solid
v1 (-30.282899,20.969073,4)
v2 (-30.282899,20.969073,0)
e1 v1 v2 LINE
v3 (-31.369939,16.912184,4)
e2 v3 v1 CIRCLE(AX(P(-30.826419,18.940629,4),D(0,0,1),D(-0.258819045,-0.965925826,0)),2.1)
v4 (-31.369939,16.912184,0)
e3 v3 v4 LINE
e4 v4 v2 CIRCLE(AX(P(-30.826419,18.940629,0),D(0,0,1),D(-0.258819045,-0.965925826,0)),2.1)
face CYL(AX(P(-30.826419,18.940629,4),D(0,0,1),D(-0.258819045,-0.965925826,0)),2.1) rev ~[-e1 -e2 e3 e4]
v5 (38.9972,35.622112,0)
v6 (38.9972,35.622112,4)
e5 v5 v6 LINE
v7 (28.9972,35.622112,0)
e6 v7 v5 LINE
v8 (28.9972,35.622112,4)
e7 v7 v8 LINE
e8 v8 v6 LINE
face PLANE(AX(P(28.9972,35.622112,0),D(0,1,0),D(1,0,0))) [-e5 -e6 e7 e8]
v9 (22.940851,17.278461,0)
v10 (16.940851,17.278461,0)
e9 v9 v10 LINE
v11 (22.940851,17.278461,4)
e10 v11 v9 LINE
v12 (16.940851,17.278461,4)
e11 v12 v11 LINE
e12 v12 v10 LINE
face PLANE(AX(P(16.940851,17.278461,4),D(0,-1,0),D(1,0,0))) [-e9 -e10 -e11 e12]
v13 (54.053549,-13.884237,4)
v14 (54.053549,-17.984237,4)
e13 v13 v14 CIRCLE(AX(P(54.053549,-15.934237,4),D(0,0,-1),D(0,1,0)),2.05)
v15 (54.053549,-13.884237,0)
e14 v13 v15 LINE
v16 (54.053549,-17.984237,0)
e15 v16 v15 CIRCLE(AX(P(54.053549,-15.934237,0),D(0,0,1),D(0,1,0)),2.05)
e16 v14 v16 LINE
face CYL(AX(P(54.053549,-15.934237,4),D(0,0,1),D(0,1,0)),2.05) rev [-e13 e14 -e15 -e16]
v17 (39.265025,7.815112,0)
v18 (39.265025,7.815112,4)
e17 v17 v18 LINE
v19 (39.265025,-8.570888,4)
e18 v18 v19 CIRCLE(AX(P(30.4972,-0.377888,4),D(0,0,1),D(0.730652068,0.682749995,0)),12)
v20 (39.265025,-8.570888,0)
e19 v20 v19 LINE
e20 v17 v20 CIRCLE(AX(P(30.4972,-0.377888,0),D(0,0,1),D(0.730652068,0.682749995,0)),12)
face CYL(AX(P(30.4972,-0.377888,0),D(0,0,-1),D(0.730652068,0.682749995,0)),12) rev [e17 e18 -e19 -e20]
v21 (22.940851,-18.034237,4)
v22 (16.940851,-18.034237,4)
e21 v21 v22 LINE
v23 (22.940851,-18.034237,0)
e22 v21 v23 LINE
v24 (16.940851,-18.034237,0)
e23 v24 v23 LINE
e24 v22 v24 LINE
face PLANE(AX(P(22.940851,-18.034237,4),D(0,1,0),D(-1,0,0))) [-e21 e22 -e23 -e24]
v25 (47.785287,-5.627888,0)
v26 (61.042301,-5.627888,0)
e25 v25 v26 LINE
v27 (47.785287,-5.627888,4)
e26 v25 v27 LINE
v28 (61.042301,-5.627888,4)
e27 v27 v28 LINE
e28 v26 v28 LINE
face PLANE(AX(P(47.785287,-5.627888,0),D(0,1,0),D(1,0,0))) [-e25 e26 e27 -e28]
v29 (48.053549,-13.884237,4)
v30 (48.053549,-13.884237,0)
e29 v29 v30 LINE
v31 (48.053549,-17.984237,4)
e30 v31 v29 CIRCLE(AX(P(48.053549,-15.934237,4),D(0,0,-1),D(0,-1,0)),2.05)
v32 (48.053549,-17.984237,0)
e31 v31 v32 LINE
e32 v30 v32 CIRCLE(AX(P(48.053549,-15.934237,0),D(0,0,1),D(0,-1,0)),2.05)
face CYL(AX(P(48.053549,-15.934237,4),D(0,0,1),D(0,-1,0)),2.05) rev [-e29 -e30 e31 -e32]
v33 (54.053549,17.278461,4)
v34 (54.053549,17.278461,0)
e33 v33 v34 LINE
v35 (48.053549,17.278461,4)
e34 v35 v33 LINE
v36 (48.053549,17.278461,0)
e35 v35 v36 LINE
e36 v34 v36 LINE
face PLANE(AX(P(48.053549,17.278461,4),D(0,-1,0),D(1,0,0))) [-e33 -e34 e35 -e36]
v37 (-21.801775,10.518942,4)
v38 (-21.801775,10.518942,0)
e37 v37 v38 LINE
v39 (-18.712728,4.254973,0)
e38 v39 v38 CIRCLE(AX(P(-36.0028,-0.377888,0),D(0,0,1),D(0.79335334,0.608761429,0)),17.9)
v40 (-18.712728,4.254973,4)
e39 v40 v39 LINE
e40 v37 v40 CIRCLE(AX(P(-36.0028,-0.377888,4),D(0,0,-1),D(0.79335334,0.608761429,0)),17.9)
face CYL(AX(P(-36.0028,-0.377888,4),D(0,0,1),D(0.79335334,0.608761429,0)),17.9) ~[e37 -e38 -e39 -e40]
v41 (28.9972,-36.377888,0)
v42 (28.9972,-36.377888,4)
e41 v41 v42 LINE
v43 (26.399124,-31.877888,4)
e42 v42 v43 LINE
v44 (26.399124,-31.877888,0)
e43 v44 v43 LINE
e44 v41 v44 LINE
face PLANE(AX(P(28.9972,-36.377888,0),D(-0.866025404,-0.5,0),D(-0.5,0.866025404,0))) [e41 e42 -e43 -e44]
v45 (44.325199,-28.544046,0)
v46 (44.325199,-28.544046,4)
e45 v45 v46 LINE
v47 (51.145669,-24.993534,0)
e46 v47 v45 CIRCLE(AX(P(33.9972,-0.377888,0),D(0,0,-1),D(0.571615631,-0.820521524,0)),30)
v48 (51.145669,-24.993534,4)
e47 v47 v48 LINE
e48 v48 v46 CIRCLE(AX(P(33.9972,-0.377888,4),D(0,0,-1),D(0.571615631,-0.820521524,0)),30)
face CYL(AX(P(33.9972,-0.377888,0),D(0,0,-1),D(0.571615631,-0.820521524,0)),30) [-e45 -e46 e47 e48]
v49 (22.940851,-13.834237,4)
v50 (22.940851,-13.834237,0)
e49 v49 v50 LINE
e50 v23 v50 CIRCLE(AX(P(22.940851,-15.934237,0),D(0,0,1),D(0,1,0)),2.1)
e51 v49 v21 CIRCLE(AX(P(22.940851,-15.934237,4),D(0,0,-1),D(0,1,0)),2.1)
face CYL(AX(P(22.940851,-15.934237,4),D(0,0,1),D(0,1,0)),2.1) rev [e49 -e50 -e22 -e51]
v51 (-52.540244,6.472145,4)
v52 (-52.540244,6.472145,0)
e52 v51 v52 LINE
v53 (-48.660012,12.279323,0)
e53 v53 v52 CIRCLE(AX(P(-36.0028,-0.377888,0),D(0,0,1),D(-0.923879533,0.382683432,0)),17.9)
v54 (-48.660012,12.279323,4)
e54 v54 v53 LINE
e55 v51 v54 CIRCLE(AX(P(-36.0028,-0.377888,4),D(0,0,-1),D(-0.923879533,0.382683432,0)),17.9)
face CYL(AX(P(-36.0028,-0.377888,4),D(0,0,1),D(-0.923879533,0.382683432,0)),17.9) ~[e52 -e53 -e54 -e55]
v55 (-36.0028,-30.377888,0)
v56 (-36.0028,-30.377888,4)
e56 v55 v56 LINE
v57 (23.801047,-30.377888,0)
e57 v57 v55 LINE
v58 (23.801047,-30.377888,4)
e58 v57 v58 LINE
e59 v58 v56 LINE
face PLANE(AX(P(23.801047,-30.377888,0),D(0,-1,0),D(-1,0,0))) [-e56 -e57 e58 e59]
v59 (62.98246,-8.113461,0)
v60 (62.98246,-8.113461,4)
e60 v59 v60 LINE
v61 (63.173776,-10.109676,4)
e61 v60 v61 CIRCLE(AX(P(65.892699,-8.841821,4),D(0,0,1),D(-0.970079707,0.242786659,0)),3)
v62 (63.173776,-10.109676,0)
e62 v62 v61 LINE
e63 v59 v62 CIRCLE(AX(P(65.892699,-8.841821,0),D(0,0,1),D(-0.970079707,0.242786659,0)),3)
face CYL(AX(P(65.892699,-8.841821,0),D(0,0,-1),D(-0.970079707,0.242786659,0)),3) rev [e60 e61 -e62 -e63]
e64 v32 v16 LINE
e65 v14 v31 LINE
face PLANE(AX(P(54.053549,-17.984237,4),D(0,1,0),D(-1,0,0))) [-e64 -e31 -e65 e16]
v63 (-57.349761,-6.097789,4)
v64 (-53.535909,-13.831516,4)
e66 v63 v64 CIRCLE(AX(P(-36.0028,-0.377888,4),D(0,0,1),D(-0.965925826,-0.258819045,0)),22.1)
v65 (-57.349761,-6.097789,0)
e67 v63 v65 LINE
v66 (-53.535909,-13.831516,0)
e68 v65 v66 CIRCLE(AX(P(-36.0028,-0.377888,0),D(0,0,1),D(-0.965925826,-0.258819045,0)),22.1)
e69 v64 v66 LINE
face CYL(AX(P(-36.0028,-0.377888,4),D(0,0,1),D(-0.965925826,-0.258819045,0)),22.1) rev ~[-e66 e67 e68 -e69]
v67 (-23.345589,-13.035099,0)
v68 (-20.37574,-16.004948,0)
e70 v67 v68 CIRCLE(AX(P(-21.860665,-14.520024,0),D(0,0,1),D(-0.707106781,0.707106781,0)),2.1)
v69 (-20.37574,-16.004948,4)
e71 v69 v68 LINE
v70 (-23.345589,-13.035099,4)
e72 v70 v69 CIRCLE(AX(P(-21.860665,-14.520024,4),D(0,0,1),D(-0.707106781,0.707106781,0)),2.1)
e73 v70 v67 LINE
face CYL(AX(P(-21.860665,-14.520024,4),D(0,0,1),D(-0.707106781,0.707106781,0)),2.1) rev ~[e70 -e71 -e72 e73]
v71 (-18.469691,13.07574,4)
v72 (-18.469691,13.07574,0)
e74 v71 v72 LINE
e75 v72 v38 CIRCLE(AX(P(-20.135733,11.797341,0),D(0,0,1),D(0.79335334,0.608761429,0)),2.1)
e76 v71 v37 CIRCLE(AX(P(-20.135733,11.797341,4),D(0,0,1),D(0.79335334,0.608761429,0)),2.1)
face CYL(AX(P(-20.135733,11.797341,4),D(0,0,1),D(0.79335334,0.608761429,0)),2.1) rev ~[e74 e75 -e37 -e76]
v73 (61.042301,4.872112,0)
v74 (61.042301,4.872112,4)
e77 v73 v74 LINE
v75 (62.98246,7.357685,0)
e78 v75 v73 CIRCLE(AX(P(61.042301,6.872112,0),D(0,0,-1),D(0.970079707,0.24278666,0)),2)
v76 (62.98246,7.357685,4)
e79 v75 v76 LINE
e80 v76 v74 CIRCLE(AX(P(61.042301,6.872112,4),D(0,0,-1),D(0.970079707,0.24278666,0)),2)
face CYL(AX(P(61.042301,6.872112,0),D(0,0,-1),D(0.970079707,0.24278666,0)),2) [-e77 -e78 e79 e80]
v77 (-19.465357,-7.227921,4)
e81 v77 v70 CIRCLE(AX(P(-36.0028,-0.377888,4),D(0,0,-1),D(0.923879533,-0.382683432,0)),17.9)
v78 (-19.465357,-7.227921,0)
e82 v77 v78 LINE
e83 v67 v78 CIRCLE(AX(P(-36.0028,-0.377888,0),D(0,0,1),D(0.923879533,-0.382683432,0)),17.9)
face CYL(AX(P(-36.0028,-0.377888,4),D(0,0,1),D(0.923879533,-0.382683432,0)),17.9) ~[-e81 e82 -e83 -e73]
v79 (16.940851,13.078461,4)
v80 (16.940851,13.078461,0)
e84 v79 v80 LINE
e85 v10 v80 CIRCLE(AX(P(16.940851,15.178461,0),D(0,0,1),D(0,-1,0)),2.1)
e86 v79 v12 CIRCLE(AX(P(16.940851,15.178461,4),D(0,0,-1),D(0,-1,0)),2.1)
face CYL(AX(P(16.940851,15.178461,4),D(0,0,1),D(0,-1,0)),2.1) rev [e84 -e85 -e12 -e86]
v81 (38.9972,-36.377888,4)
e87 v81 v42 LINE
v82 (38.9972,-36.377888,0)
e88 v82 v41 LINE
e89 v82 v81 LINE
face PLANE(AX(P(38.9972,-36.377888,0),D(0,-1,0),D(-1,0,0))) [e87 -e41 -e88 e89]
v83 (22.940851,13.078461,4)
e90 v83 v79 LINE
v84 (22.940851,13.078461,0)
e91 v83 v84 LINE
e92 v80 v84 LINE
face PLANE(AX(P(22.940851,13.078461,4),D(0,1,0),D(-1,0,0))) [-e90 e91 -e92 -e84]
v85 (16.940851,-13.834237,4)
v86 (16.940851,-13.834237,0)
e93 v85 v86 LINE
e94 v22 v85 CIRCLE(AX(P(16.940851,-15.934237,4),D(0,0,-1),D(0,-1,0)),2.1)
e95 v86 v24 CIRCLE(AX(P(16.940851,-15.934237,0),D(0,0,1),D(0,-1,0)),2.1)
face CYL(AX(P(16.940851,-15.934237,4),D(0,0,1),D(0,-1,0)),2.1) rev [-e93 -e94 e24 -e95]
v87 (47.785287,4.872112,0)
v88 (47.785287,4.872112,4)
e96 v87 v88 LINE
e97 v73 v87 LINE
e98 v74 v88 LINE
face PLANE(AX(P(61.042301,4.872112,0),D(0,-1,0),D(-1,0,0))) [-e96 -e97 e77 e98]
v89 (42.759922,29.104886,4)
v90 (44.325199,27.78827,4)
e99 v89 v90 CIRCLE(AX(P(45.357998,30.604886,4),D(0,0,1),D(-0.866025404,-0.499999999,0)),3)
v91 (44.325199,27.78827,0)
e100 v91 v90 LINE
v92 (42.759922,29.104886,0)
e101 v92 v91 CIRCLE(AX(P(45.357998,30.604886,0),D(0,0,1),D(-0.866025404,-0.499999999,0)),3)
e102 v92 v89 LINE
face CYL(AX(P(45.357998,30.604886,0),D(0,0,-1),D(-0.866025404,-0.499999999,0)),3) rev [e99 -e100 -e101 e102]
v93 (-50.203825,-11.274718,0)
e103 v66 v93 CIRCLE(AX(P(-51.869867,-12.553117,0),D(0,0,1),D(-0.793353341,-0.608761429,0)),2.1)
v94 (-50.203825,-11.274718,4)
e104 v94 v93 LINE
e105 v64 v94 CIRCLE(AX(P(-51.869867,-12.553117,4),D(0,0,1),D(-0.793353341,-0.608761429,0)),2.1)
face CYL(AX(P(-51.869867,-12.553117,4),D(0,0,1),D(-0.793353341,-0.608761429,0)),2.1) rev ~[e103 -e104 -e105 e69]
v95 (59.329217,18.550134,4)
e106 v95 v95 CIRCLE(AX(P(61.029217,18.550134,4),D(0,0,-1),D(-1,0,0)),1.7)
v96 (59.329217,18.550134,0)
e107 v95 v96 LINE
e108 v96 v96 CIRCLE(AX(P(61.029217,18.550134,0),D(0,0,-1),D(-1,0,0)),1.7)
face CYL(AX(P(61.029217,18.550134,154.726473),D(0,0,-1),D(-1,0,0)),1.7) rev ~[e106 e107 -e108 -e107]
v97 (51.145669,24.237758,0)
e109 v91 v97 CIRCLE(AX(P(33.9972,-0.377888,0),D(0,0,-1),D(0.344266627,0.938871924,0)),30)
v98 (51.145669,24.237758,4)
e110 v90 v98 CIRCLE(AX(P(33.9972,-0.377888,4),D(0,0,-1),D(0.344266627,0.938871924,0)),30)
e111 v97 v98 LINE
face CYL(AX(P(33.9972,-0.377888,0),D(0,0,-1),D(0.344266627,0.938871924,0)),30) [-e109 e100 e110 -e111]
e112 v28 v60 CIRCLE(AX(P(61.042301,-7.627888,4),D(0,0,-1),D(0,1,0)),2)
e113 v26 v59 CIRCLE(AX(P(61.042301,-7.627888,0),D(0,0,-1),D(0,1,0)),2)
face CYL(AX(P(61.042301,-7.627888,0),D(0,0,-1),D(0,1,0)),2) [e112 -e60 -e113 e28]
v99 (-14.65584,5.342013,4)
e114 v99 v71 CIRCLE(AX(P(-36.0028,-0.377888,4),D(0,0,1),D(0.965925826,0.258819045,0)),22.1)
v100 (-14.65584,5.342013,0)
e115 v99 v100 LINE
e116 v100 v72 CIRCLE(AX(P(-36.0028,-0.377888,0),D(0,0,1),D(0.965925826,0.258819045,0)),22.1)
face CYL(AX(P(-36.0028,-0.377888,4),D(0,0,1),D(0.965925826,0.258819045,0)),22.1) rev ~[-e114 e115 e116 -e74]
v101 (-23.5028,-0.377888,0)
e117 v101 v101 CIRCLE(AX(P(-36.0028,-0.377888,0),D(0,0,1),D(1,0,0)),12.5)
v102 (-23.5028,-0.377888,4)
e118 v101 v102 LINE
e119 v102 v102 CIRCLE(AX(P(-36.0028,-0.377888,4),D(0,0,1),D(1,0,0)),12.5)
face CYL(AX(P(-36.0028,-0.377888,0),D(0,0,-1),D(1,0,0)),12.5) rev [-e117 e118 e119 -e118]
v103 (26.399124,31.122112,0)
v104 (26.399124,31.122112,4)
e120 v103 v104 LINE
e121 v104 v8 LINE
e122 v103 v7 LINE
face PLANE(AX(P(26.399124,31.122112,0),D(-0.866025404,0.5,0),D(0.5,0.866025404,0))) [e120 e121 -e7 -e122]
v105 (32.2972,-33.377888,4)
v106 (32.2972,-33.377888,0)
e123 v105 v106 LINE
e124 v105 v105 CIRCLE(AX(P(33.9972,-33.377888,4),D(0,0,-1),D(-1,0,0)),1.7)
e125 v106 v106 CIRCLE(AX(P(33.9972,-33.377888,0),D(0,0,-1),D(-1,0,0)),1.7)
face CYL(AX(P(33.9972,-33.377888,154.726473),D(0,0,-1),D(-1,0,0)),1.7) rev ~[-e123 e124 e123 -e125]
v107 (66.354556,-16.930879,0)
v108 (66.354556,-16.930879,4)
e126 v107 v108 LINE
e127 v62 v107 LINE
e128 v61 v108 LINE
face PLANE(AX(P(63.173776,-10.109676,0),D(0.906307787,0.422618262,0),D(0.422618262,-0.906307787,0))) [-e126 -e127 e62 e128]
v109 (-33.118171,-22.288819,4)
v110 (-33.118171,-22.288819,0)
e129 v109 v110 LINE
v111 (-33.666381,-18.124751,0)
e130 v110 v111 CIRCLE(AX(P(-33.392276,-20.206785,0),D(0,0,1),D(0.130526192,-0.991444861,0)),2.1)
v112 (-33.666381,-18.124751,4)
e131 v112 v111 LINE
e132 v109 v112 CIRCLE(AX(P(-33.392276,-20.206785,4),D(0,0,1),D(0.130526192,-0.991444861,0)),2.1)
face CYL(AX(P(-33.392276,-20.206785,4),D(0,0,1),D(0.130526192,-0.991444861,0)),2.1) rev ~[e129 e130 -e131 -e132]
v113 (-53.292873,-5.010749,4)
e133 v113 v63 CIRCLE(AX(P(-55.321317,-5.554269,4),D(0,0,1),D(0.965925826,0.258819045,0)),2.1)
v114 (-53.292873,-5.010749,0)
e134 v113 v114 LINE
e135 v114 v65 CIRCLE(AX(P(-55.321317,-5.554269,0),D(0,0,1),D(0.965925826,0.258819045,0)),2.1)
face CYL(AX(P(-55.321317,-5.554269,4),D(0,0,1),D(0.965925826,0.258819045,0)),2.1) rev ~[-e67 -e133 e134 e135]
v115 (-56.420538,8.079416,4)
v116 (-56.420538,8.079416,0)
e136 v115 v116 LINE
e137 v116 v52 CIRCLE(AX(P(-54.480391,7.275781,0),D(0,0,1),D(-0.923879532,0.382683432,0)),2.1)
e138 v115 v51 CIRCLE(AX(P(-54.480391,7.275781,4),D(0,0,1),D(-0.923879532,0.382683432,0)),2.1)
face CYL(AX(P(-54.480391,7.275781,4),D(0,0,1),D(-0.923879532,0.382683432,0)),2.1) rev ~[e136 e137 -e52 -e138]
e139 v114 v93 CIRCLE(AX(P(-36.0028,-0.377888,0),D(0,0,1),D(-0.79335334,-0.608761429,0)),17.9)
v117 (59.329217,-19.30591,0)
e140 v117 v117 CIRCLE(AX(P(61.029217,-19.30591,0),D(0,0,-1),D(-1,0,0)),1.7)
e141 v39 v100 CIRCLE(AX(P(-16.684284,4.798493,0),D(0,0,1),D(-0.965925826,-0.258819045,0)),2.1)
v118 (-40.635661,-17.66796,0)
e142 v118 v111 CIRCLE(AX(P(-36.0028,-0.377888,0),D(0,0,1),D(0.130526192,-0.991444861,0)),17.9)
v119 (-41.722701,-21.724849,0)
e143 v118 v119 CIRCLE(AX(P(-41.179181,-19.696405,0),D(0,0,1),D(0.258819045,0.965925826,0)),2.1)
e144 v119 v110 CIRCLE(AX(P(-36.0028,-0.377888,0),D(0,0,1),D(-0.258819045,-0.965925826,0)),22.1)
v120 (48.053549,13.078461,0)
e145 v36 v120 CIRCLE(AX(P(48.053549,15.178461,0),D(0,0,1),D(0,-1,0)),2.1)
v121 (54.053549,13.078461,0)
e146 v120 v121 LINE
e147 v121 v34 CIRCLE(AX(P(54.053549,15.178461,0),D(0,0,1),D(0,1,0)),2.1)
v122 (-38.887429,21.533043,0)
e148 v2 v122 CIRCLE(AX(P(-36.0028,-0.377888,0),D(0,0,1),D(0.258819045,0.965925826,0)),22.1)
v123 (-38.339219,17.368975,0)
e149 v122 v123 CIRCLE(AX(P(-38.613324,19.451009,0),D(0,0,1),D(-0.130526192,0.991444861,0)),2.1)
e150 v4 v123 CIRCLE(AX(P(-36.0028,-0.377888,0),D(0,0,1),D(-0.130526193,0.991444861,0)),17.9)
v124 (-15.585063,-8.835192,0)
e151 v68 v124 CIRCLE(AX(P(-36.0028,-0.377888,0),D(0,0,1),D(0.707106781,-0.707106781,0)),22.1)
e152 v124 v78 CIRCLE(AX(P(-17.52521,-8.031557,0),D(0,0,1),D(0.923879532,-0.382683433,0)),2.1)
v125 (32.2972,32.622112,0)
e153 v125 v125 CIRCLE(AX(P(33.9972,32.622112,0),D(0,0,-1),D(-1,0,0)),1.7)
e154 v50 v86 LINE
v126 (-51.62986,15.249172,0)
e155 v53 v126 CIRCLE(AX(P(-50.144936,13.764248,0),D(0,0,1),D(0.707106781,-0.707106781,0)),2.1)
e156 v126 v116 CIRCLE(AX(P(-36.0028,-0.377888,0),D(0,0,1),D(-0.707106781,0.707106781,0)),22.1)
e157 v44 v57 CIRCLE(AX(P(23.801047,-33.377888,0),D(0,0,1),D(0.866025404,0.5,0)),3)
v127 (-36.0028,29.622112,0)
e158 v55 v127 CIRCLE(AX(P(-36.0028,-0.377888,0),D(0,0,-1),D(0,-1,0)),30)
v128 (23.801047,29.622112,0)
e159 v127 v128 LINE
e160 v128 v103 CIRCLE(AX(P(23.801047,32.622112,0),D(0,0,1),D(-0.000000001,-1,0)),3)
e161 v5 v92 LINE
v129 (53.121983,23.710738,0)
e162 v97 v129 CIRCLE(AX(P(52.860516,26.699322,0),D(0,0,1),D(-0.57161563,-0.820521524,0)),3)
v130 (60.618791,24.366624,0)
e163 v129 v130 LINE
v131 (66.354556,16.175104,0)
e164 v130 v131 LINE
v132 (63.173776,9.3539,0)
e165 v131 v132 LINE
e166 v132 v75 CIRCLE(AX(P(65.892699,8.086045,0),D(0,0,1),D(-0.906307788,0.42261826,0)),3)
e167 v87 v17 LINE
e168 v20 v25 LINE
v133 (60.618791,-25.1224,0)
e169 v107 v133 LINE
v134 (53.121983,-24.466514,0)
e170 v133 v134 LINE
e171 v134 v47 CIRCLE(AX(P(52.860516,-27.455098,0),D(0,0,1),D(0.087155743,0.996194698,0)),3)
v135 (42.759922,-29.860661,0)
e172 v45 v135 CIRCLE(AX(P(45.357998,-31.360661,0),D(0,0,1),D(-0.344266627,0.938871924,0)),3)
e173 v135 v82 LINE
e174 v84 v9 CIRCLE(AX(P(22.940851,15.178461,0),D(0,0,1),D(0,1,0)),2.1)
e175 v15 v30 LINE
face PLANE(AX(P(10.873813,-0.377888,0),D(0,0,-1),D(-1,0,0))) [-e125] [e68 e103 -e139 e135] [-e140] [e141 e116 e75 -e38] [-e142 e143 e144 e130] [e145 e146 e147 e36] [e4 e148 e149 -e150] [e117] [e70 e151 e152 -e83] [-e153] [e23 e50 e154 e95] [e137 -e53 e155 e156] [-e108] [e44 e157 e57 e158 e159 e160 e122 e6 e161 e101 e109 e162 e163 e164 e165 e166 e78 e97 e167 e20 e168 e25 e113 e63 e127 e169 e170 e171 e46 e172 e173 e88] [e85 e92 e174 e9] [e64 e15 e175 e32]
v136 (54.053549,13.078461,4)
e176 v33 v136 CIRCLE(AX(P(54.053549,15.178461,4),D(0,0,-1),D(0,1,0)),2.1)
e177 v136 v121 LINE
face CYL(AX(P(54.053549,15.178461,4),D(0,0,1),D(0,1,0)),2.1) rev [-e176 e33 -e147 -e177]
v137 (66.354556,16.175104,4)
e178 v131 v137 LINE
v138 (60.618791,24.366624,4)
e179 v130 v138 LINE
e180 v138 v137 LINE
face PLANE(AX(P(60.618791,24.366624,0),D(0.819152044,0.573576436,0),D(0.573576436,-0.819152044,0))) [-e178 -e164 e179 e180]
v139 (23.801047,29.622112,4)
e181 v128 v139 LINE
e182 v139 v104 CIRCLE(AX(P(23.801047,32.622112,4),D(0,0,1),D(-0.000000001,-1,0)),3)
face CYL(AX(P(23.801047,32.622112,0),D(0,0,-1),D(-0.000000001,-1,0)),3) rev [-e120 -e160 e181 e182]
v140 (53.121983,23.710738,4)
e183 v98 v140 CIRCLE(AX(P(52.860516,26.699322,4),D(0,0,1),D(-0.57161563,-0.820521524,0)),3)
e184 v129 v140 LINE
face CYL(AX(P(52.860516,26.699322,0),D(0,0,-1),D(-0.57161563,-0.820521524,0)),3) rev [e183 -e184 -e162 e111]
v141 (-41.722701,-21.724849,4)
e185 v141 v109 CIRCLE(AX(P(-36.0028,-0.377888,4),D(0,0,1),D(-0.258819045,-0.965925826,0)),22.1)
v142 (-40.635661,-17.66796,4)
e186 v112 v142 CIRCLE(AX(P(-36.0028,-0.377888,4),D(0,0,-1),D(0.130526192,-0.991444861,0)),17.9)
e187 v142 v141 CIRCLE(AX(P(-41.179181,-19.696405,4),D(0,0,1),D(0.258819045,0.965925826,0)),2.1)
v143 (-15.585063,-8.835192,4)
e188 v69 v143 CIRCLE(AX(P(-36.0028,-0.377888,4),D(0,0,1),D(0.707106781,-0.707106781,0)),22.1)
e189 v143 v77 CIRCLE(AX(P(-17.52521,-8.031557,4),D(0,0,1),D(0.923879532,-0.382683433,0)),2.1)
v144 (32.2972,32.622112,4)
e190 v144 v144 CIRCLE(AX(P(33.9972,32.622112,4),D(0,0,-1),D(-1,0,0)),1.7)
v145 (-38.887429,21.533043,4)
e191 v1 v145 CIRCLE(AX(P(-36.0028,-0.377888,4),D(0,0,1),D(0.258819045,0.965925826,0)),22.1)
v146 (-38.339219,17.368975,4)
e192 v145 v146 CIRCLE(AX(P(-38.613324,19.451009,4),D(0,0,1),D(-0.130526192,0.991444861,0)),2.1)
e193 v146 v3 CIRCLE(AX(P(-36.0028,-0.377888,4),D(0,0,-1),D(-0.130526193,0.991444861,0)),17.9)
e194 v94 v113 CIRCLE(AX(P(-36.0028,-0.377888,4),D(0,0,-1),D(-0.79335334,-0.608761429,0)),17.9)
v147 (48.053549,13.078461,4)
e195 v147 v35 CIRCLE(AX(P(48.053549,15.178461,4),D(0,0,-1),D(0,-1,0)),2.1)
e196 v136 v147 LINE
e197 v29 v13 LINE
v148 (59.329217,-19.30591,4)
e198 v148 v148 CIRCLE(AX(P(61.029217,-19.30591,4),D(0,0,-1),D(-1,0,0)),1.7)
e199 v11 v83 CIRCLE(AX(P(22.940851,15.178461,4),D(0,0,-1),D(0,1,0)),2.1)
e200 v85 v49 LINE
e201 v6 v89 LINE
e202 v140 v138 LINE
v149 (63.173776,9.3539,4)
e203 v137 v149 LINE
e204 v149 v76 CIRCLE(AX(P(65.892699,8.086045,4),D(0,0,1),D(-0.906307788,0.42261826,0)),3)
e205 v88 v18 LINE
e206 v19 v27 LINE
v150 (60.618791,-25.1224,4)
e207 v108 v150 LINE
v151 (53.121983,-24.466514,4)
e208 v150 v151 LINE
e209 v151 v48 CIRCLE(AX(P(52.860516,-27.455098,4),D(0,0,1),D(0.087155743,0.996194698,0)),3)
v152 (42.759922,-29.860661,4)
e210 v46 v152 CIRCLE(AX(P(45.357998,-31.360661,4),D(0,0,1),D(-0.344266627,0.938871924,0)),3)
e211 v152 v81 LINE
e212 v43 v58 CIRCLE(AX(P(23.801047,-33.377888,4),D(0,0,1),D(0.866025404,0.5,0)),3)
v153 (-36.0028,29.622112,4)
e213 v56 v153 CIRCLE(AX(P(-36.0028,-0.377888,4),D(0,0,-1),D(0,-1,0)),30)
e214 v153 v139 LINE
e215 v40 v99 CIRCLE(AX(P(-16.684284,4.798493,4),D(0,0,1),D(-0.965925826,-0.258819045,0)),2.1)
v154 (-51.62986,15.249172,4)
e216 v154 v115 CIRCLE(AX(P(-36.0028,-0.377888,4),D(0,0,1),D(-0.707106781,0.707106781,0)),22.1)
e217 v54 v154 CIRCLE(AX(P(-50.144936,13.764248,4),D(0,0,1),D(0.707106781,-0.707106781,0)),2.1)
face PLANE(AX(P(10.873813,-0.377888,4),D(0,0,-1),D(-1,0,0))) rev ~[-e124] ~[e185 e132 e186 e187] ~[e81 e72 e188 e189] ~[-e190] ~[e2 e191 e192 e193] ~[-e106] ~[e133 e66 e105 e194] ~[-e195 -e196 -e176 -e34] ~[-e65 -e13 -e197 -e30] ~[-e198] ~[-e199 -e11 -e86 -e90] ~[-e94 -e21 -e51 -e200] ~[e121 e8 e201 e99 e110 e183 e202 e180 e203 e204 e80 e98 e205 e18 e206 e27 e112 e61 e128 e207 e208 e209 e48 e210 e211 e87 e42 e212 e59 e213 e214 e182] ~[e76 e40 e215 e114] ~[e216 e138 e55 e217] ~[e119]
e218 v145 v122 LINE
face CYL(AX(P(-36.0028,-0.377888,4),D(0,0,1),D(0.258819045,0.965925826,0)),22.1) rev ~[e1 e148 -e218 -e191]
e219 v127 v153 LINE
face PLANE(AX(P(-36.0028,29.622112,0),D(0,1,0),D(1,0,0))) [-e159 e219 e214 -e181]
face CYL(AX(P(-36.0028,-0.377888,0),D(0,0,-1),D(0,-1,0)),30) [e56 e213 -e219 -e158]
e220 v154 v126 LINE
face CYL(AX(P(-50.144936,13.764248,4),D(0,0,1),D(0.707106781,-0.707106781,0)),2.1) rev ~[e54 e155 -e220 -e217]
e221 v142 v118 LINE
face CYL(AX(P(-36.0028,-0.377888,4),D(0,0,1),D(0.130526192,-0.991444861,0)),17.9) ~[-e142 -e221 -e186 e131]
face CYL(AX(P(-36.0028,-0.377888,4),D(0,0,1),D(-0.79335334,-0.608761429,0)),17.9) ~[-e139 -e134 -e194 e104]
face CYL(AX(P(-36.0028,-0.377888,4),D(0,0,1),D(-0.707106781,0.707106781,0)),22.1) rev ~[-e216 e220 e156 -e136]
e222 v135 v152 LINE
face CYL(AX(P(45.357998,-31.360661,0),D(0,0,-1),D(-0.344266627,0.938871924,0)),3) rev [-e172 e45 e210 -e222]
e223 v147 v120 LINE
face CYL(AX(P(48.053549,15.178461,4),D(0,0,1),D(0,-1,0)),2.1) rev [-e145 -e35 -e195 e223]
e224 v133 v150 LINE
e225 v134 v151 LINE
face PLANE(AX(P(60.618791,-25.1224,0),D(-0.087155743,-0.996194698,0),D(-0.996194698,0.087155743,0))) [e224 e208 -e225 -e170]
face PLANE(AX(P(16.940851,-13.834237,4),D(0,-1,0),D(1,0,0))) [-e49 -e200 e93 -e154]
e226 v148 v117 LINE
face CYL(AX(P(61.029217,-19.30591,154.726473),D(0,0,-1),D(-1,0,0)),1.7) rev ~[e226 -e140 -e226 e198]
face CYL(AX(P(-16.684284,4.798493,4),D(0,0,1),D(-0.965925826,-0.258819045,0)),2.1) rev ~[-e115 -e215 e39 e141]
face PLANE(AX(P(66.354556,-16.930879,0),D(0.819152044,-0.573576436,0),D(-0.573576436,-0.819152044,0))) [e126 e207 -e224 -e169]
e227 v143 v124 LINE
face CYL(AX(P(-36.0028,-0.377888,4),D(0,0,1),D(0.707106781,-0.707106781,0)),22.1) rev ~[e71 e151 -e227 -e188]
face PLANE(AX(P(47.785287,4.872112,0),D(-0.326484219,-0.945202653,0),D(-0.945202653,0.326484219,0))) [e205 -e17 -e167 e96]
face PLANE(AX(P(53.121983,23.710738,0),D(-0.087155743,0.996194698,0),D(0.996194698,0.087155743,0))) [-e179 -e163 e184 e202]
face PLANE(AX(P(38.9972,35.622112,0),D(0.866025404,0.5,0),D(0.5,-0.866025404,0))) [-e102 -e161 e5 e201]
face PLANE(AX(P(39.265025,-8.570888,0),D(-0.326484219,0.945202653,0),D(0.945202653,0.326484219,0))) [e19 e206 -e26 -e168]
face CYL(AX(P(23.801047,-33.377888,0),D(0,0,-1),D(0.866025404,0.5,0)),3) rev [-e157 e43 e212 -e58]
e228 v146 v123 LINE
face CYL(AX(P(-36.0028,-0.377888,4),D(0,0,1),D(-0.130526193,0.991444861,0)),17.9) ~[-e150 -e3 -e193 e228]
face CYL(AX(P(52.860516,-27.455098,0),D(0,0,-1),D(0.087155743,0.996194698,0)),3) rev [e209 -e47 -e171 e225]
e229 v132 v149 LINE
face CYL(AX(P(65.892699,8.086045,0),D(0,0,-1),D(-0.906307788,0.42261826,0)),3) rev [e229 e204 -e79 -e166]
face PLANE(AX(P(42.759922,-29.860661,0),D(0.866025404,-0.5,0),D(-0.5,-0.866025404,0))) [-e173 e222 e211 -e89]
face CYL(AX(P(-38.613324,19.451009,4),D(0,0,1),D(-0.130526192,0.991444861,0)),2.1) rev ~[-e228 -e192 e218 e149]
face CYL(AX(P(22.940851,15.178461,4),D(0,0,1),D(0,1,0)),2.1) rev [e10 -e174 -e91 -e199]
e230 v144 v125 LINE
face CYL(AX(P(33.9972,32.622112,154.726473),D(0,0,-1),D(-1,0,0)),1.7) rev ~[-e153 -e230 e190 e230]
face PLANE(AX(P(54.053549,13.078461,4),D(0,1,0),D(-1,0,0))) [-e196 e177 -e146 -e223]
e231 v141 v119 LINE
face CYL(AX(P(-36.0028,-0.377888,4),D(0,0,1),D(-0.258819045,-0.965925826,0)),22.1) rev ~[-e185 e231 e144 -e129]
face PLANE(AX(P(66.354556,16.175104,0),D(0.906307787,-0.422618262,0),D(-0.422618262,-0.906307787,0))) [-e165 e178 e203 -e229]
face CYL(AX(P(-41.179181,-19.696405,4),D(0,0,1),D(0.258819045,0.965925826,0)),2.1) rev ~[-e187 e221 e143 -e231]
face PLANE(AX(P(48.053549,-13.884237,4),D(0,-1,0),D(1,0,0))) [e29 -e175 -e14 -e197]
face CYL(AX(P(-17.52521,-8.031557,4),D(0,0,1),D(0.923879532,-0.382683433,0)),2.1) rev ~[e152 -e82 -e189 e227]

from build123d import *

# Parameters (mm, degrees)
SKIZZE1_R                       = 12.5
AUFSATZ_LINEAR_AUSTRAGEN1_DEPTH = 4
DURCHGANGSLOCH_F_R_M31_D        = 3.4
SCHNITT_LINEAR_AUSTRAGEN1_DEPTH = 5
SCHNITT_LINEAR_AUSTRAGEN2_DEPTH = 5


with BuildPart() as part:
    # Skizze1 → Aufsatz-Linear austragen1 (new body)
    with BuildSketch(Plane.XY):
        with BuildLine():
            Line((60.618791136, -25.122399911), (53.121982765, -24.466514166))
            ThreePointArc((53.121982765, -24.466514166), (52.087524265, -24.556394327), (51.145668645, -24.99353369))
            ThreePointArc((51.145668645, -24.99353369), (47.84965812, -26.988212977), (44.325198534, -28.544045699))
            ThreePointArc((44.325198534, -28.544045699), (43.426888741, -29.064835818), (42.759922204, -29.860661471))
            Line((42.759922204, -29.860661471), (38.997199723, -36.377887981))
            Line((38.997199723, -36.377887981), (28.997199723, -36.377887981))
            Line((28.997199723, -36.377887981), (26.399123512, -31.877887981))
            ThreePointArc((26.399123512, -31.877887981), (25.301047301, -30.77981177), (23.801047301, -30.377887981))
            Line((23.801047301, -30.377887981), (-36.002800277, -30.377887981))
            ThreePointArc((-36.002800277, -30.377887981), (-66.002800277, -0.377887981), (-36.002800277, 29.622112019))
            Line((-36.002800277, 29.622112019), (23.801047301, 29.622112019))
            ThreePointArc((23.801047301, 29.622112019), (25.301047301, 30.024035807), (26.399123512, 31.122112019))
            Line((26.399123512, 31.122112019), (28.997199723, 35.622112019))
            Line((28.997199723, 35.622112019), (38.997199723, 35.622112019))
            Line((38.997199723, 35.622112019), (42.759922204, 29.104885508))
            ThreePointArc((42.759922204, 29.104885508), (43.426888741, 28.309059855), (44.325198534, 27.788269736))
            ThreePointArc((44.325198534, 27.788269736), (47.84965812, 26.232437014), (51.145668645, 24.237757727))
            ThreePointArc((51.145668645, 24.237757727), (52.087524265, 23.800618365), (53.121982765, 23.710738204))
            Line((53.121982765, 23.710738204), (60.618791136, 24.366623949))
            Line((60.618791136, 24.366623949), (66.3545555, 16.175103506))
            Line((66.3545555, 16.175103506), (63.173776116, 9.353900106))
            ThreePointArc((63.173776116, 9.353900106), (62.906383033, 8.372251699), (62.982460357, 7.357685339))
            ThreePointArc((62.982460357, 7.357685339), (62.618871056, 5.641491574), (61.042300943, 4.872112019))
            Line((61.042300943, 4.872112019), (47.785287356, 4.872112019))
            Line((47.785287356, 4.872112019), (39.265024534, 7.815111963))
            ThreePointArc((39.265024534, 7.815111963), (18.497199723, -0.377887981), (39.265024534, -8.570887926))
            Line((39.265024534, -8.570887926), (47.785287356, -5.627887981))
            Line((47.785287356, -5.627887981), (61.042300943, -5.627887981))
            ThreePointArc((61.042300943, -5.627887981), (62.618871056, -6.397267536), (62.982460357, -8.113461302))
            ThreePointArc((62.982460357, -8.113461302), (62.906383033, -9.128027661), (63.173776116, -10.109676068))
            Line((63.173776116, -10.109676068), (66.3545555, -16.930879469))
            Line((66.3545555, -16.930879469), (60.618791136, -25.122399911))
        make_face()
        with Locations((-36.002800277, -0.377887981)):
            Circle(SKIZZE1_R, mode=Mode.SUBTRACT)
    extrude(amount=AUFSATZ_LINEAR_AUSTRAGEN1_DEPTH)

    # Durchgangsloch für M31 (through all)
    with Locations(Plane.XY.offset(4)):
        with Locations((33.997199723, 32.622112019), (61.029217185, 18.550134418), (61.029217185, -19.305910381), (33.997199723, -33.377887981)):
            Hole(DURCHGANGSLOCH_F_R_M31_D / 2)

    # Skizze6 → Schnitt-Linear austragen1 (cut, through all)
    with BuildSketch(Plane.XY.offset(4)):
        with BuildLine():
            ThreePointArc((-30.28289938, 20.96907278), (-34.557391121, 21.674794222), (-38.887429125, 21.533043455))
            ThreePointArc((-38.887429125, 21.533043455), (-40.69535833, 19.176904242), (-38.339219117, 17.368975037))
            ThreePointArc((-38.339219117, 17.368975037), (-34.832084263, 17.483786745), (-31.369939369, 16.912184309))
            ThreePointArc((-31.369939369, 16.912184309), (-28.797975139, 18.39710855), (-30.28289938, 20.96907278))
        make_face()
        with BuildLine():
            ThreePointArc((-14.655839516, 5.342012915), (-16.181912689, 9.396692073), (-18.469691456, 13.0757396))
            ThreePointArc((-18.469691456, 13.0757396), (-21.414132472, 13.463382613), (-21.801775485, 10.518941598))
            ThreePointArc((-21.801775485, 10.518941598), (-19.948778203, 7.539079574), (-18.712727986, 4.254972926))
            ThreePointArc((-18.712727986, 4.254972926), (-16.140763756, 2.770048686), (-14.655839516, 5.342012915))
        make_face()
        with BuildLine():
            ThreePointArc((-20.375740412, -16.004947846), (-17.627321845, -12.655990131), (-15.585062608, -8.835191837))
            ThreePointArc((-15.585062608, -8.835191837), (-16.721574418, -6.09140961), (-19.465356645, -7.227921421))
            ThreePointArc((-19.465356645, -7.227921421), (-21.119494216, -10.322595152), (-23.345588893, -13.035099365))
            ThreePointArc((-23.345588893, -13.035099365), (-23.345588893, -16.004947846), (-20.375740412, -16.004947846))
        make_face()
        with BuildLine():
            ThreePointArc((-41.722701173, -21.724848742), (-37.448209433, -22.430570185), (-33.118171429, -22.288819418))
            ThreePointArc((-33.118171429, -22.288819418), (-31.310242223, -19.932680205), (-33.666381436, -18.124751))
            ThreePointArc((-33.666381436, -18.124751), (-37.17351629, -18.239562707), (-40.635661184, -17.667960272))
            ThreePointArc((-40.635661184, -17.667960272), (-43.207625414, -19.152884512), (-41.722701173, -21.724848742))
        make_face()
        with BuildLine():
            ThreePointArc((-57.349761038, -6.097788878), (-55.823687864, -10.152468035), (-53.535909097, -13.831515562))
            ThreePointArc((-53.535909097, -13.831515562), (-50.591468081, -14.219158576), (-50.203825068, -11.274717561))
            ThreePointArc((-50.203825068, -11.274717561), (-52.05682235, -8.294855536), (-53.292872567, -5.010748889))
            ThreePointArc((-53.292872567, -5.010748889), (-55.864836797, -3.525824648), (-57.349761038, -6.097788878))
        make_face()
        with BuildLine():
            ThreePointArc((-51.629860141, 15.249171883), (-54.378278708, 11.900214168), (-56.420537945, 8.079415874))
            ThreePointArc((-56.420537945, 8.079415874), (-55.284026135, 5.335633648), (-52.540243909, 6.472145458))
            ThreePointArc((-52.540243909, 6.472145458), (-50.886106337, 9.56681919), (-48.66001166, 12.279323402))
            ThreePointArc((-48.66001166, 12.279323402), (-48.66001166, 15.249171883), (-51.629860141, 15.249171883))
        make_face()
    extrude(amount=-SCHNITT_LINEAR_AUSTRAGEN1_DEPTH, mode=Mode.SUBTRACT)

    # Skizze7 → Schnitt-Linear austragen2 (cut, through all)
    with BuildSketch(Plane.XY.offset(4)):
        with BuildLine():
            Line((16.940850537, 17.278461205), (22.940850537, 17.278461205))
            ThreePointArc((22.940850537, 17.278461205), (25.040850537, 15.178461205), (22.940850537, 13.078461205))
            Line((22.940850537, 13.078461205), (16.940850537, 13.078461205))
            ThreePointArc((16.940850537, 13.078461205), (14.840850537, 15.178461205), (16.940850537, 17.278461205))
        make_face()
        with BuildLine():
            Line((48.05354891, 17.278461205), (54.05354891, 17.278461205))
            ThreePointArc((54.05354891, 17.278461205), (56.15354891, 15.178461205), (54.05354891, 13.078461205))
            Line((54.05354891, 13.078461205), (48.05354891, 13.078461205))
            ThreePointArc((48.05354891, 13.078461205), (45.95354891, 15.178461205), (48.05354891, 17.278461205))
        make_face()
        with BuildLine():
            Line((54.05354891, -17.984237167), (48.05354891, -17.984237167))
            ThreePointArc((48.05354891, -17.984237167), (46.00354891, -15.934237167), (48.05354891, -13.884237167))
            Line((48.05354891, -13.884237167), (54.05354891, -13.884237167))
            ThreePointArc((54.05354891, -13.884237167), (56.10354891, -15.934237167), (54.05354891, -17.984237167))
        make_face()
        with BuildLine():
            Line((22.940850537, -18.034237167), (16.940850537, -18.034237167))
            ThreePointArc((16.940850537, -18.034237167), (14.840850537, -15.934237167), (16.940850537, -13.834237167))
            Line((16.940850537, -13.834237167), (22.940850537, -13.834237167))
            ThreePointArc((22.940850537, -13.834237167), (25.040850537, -15.934237167), (22.940850537, -18.034237167))
        make_face()
    extrude(amount=-SCHNITT_LINEAR_AUSTRAGEN2_DEPTH, mode=Mode.SUBTRACT)


solid = part.part
